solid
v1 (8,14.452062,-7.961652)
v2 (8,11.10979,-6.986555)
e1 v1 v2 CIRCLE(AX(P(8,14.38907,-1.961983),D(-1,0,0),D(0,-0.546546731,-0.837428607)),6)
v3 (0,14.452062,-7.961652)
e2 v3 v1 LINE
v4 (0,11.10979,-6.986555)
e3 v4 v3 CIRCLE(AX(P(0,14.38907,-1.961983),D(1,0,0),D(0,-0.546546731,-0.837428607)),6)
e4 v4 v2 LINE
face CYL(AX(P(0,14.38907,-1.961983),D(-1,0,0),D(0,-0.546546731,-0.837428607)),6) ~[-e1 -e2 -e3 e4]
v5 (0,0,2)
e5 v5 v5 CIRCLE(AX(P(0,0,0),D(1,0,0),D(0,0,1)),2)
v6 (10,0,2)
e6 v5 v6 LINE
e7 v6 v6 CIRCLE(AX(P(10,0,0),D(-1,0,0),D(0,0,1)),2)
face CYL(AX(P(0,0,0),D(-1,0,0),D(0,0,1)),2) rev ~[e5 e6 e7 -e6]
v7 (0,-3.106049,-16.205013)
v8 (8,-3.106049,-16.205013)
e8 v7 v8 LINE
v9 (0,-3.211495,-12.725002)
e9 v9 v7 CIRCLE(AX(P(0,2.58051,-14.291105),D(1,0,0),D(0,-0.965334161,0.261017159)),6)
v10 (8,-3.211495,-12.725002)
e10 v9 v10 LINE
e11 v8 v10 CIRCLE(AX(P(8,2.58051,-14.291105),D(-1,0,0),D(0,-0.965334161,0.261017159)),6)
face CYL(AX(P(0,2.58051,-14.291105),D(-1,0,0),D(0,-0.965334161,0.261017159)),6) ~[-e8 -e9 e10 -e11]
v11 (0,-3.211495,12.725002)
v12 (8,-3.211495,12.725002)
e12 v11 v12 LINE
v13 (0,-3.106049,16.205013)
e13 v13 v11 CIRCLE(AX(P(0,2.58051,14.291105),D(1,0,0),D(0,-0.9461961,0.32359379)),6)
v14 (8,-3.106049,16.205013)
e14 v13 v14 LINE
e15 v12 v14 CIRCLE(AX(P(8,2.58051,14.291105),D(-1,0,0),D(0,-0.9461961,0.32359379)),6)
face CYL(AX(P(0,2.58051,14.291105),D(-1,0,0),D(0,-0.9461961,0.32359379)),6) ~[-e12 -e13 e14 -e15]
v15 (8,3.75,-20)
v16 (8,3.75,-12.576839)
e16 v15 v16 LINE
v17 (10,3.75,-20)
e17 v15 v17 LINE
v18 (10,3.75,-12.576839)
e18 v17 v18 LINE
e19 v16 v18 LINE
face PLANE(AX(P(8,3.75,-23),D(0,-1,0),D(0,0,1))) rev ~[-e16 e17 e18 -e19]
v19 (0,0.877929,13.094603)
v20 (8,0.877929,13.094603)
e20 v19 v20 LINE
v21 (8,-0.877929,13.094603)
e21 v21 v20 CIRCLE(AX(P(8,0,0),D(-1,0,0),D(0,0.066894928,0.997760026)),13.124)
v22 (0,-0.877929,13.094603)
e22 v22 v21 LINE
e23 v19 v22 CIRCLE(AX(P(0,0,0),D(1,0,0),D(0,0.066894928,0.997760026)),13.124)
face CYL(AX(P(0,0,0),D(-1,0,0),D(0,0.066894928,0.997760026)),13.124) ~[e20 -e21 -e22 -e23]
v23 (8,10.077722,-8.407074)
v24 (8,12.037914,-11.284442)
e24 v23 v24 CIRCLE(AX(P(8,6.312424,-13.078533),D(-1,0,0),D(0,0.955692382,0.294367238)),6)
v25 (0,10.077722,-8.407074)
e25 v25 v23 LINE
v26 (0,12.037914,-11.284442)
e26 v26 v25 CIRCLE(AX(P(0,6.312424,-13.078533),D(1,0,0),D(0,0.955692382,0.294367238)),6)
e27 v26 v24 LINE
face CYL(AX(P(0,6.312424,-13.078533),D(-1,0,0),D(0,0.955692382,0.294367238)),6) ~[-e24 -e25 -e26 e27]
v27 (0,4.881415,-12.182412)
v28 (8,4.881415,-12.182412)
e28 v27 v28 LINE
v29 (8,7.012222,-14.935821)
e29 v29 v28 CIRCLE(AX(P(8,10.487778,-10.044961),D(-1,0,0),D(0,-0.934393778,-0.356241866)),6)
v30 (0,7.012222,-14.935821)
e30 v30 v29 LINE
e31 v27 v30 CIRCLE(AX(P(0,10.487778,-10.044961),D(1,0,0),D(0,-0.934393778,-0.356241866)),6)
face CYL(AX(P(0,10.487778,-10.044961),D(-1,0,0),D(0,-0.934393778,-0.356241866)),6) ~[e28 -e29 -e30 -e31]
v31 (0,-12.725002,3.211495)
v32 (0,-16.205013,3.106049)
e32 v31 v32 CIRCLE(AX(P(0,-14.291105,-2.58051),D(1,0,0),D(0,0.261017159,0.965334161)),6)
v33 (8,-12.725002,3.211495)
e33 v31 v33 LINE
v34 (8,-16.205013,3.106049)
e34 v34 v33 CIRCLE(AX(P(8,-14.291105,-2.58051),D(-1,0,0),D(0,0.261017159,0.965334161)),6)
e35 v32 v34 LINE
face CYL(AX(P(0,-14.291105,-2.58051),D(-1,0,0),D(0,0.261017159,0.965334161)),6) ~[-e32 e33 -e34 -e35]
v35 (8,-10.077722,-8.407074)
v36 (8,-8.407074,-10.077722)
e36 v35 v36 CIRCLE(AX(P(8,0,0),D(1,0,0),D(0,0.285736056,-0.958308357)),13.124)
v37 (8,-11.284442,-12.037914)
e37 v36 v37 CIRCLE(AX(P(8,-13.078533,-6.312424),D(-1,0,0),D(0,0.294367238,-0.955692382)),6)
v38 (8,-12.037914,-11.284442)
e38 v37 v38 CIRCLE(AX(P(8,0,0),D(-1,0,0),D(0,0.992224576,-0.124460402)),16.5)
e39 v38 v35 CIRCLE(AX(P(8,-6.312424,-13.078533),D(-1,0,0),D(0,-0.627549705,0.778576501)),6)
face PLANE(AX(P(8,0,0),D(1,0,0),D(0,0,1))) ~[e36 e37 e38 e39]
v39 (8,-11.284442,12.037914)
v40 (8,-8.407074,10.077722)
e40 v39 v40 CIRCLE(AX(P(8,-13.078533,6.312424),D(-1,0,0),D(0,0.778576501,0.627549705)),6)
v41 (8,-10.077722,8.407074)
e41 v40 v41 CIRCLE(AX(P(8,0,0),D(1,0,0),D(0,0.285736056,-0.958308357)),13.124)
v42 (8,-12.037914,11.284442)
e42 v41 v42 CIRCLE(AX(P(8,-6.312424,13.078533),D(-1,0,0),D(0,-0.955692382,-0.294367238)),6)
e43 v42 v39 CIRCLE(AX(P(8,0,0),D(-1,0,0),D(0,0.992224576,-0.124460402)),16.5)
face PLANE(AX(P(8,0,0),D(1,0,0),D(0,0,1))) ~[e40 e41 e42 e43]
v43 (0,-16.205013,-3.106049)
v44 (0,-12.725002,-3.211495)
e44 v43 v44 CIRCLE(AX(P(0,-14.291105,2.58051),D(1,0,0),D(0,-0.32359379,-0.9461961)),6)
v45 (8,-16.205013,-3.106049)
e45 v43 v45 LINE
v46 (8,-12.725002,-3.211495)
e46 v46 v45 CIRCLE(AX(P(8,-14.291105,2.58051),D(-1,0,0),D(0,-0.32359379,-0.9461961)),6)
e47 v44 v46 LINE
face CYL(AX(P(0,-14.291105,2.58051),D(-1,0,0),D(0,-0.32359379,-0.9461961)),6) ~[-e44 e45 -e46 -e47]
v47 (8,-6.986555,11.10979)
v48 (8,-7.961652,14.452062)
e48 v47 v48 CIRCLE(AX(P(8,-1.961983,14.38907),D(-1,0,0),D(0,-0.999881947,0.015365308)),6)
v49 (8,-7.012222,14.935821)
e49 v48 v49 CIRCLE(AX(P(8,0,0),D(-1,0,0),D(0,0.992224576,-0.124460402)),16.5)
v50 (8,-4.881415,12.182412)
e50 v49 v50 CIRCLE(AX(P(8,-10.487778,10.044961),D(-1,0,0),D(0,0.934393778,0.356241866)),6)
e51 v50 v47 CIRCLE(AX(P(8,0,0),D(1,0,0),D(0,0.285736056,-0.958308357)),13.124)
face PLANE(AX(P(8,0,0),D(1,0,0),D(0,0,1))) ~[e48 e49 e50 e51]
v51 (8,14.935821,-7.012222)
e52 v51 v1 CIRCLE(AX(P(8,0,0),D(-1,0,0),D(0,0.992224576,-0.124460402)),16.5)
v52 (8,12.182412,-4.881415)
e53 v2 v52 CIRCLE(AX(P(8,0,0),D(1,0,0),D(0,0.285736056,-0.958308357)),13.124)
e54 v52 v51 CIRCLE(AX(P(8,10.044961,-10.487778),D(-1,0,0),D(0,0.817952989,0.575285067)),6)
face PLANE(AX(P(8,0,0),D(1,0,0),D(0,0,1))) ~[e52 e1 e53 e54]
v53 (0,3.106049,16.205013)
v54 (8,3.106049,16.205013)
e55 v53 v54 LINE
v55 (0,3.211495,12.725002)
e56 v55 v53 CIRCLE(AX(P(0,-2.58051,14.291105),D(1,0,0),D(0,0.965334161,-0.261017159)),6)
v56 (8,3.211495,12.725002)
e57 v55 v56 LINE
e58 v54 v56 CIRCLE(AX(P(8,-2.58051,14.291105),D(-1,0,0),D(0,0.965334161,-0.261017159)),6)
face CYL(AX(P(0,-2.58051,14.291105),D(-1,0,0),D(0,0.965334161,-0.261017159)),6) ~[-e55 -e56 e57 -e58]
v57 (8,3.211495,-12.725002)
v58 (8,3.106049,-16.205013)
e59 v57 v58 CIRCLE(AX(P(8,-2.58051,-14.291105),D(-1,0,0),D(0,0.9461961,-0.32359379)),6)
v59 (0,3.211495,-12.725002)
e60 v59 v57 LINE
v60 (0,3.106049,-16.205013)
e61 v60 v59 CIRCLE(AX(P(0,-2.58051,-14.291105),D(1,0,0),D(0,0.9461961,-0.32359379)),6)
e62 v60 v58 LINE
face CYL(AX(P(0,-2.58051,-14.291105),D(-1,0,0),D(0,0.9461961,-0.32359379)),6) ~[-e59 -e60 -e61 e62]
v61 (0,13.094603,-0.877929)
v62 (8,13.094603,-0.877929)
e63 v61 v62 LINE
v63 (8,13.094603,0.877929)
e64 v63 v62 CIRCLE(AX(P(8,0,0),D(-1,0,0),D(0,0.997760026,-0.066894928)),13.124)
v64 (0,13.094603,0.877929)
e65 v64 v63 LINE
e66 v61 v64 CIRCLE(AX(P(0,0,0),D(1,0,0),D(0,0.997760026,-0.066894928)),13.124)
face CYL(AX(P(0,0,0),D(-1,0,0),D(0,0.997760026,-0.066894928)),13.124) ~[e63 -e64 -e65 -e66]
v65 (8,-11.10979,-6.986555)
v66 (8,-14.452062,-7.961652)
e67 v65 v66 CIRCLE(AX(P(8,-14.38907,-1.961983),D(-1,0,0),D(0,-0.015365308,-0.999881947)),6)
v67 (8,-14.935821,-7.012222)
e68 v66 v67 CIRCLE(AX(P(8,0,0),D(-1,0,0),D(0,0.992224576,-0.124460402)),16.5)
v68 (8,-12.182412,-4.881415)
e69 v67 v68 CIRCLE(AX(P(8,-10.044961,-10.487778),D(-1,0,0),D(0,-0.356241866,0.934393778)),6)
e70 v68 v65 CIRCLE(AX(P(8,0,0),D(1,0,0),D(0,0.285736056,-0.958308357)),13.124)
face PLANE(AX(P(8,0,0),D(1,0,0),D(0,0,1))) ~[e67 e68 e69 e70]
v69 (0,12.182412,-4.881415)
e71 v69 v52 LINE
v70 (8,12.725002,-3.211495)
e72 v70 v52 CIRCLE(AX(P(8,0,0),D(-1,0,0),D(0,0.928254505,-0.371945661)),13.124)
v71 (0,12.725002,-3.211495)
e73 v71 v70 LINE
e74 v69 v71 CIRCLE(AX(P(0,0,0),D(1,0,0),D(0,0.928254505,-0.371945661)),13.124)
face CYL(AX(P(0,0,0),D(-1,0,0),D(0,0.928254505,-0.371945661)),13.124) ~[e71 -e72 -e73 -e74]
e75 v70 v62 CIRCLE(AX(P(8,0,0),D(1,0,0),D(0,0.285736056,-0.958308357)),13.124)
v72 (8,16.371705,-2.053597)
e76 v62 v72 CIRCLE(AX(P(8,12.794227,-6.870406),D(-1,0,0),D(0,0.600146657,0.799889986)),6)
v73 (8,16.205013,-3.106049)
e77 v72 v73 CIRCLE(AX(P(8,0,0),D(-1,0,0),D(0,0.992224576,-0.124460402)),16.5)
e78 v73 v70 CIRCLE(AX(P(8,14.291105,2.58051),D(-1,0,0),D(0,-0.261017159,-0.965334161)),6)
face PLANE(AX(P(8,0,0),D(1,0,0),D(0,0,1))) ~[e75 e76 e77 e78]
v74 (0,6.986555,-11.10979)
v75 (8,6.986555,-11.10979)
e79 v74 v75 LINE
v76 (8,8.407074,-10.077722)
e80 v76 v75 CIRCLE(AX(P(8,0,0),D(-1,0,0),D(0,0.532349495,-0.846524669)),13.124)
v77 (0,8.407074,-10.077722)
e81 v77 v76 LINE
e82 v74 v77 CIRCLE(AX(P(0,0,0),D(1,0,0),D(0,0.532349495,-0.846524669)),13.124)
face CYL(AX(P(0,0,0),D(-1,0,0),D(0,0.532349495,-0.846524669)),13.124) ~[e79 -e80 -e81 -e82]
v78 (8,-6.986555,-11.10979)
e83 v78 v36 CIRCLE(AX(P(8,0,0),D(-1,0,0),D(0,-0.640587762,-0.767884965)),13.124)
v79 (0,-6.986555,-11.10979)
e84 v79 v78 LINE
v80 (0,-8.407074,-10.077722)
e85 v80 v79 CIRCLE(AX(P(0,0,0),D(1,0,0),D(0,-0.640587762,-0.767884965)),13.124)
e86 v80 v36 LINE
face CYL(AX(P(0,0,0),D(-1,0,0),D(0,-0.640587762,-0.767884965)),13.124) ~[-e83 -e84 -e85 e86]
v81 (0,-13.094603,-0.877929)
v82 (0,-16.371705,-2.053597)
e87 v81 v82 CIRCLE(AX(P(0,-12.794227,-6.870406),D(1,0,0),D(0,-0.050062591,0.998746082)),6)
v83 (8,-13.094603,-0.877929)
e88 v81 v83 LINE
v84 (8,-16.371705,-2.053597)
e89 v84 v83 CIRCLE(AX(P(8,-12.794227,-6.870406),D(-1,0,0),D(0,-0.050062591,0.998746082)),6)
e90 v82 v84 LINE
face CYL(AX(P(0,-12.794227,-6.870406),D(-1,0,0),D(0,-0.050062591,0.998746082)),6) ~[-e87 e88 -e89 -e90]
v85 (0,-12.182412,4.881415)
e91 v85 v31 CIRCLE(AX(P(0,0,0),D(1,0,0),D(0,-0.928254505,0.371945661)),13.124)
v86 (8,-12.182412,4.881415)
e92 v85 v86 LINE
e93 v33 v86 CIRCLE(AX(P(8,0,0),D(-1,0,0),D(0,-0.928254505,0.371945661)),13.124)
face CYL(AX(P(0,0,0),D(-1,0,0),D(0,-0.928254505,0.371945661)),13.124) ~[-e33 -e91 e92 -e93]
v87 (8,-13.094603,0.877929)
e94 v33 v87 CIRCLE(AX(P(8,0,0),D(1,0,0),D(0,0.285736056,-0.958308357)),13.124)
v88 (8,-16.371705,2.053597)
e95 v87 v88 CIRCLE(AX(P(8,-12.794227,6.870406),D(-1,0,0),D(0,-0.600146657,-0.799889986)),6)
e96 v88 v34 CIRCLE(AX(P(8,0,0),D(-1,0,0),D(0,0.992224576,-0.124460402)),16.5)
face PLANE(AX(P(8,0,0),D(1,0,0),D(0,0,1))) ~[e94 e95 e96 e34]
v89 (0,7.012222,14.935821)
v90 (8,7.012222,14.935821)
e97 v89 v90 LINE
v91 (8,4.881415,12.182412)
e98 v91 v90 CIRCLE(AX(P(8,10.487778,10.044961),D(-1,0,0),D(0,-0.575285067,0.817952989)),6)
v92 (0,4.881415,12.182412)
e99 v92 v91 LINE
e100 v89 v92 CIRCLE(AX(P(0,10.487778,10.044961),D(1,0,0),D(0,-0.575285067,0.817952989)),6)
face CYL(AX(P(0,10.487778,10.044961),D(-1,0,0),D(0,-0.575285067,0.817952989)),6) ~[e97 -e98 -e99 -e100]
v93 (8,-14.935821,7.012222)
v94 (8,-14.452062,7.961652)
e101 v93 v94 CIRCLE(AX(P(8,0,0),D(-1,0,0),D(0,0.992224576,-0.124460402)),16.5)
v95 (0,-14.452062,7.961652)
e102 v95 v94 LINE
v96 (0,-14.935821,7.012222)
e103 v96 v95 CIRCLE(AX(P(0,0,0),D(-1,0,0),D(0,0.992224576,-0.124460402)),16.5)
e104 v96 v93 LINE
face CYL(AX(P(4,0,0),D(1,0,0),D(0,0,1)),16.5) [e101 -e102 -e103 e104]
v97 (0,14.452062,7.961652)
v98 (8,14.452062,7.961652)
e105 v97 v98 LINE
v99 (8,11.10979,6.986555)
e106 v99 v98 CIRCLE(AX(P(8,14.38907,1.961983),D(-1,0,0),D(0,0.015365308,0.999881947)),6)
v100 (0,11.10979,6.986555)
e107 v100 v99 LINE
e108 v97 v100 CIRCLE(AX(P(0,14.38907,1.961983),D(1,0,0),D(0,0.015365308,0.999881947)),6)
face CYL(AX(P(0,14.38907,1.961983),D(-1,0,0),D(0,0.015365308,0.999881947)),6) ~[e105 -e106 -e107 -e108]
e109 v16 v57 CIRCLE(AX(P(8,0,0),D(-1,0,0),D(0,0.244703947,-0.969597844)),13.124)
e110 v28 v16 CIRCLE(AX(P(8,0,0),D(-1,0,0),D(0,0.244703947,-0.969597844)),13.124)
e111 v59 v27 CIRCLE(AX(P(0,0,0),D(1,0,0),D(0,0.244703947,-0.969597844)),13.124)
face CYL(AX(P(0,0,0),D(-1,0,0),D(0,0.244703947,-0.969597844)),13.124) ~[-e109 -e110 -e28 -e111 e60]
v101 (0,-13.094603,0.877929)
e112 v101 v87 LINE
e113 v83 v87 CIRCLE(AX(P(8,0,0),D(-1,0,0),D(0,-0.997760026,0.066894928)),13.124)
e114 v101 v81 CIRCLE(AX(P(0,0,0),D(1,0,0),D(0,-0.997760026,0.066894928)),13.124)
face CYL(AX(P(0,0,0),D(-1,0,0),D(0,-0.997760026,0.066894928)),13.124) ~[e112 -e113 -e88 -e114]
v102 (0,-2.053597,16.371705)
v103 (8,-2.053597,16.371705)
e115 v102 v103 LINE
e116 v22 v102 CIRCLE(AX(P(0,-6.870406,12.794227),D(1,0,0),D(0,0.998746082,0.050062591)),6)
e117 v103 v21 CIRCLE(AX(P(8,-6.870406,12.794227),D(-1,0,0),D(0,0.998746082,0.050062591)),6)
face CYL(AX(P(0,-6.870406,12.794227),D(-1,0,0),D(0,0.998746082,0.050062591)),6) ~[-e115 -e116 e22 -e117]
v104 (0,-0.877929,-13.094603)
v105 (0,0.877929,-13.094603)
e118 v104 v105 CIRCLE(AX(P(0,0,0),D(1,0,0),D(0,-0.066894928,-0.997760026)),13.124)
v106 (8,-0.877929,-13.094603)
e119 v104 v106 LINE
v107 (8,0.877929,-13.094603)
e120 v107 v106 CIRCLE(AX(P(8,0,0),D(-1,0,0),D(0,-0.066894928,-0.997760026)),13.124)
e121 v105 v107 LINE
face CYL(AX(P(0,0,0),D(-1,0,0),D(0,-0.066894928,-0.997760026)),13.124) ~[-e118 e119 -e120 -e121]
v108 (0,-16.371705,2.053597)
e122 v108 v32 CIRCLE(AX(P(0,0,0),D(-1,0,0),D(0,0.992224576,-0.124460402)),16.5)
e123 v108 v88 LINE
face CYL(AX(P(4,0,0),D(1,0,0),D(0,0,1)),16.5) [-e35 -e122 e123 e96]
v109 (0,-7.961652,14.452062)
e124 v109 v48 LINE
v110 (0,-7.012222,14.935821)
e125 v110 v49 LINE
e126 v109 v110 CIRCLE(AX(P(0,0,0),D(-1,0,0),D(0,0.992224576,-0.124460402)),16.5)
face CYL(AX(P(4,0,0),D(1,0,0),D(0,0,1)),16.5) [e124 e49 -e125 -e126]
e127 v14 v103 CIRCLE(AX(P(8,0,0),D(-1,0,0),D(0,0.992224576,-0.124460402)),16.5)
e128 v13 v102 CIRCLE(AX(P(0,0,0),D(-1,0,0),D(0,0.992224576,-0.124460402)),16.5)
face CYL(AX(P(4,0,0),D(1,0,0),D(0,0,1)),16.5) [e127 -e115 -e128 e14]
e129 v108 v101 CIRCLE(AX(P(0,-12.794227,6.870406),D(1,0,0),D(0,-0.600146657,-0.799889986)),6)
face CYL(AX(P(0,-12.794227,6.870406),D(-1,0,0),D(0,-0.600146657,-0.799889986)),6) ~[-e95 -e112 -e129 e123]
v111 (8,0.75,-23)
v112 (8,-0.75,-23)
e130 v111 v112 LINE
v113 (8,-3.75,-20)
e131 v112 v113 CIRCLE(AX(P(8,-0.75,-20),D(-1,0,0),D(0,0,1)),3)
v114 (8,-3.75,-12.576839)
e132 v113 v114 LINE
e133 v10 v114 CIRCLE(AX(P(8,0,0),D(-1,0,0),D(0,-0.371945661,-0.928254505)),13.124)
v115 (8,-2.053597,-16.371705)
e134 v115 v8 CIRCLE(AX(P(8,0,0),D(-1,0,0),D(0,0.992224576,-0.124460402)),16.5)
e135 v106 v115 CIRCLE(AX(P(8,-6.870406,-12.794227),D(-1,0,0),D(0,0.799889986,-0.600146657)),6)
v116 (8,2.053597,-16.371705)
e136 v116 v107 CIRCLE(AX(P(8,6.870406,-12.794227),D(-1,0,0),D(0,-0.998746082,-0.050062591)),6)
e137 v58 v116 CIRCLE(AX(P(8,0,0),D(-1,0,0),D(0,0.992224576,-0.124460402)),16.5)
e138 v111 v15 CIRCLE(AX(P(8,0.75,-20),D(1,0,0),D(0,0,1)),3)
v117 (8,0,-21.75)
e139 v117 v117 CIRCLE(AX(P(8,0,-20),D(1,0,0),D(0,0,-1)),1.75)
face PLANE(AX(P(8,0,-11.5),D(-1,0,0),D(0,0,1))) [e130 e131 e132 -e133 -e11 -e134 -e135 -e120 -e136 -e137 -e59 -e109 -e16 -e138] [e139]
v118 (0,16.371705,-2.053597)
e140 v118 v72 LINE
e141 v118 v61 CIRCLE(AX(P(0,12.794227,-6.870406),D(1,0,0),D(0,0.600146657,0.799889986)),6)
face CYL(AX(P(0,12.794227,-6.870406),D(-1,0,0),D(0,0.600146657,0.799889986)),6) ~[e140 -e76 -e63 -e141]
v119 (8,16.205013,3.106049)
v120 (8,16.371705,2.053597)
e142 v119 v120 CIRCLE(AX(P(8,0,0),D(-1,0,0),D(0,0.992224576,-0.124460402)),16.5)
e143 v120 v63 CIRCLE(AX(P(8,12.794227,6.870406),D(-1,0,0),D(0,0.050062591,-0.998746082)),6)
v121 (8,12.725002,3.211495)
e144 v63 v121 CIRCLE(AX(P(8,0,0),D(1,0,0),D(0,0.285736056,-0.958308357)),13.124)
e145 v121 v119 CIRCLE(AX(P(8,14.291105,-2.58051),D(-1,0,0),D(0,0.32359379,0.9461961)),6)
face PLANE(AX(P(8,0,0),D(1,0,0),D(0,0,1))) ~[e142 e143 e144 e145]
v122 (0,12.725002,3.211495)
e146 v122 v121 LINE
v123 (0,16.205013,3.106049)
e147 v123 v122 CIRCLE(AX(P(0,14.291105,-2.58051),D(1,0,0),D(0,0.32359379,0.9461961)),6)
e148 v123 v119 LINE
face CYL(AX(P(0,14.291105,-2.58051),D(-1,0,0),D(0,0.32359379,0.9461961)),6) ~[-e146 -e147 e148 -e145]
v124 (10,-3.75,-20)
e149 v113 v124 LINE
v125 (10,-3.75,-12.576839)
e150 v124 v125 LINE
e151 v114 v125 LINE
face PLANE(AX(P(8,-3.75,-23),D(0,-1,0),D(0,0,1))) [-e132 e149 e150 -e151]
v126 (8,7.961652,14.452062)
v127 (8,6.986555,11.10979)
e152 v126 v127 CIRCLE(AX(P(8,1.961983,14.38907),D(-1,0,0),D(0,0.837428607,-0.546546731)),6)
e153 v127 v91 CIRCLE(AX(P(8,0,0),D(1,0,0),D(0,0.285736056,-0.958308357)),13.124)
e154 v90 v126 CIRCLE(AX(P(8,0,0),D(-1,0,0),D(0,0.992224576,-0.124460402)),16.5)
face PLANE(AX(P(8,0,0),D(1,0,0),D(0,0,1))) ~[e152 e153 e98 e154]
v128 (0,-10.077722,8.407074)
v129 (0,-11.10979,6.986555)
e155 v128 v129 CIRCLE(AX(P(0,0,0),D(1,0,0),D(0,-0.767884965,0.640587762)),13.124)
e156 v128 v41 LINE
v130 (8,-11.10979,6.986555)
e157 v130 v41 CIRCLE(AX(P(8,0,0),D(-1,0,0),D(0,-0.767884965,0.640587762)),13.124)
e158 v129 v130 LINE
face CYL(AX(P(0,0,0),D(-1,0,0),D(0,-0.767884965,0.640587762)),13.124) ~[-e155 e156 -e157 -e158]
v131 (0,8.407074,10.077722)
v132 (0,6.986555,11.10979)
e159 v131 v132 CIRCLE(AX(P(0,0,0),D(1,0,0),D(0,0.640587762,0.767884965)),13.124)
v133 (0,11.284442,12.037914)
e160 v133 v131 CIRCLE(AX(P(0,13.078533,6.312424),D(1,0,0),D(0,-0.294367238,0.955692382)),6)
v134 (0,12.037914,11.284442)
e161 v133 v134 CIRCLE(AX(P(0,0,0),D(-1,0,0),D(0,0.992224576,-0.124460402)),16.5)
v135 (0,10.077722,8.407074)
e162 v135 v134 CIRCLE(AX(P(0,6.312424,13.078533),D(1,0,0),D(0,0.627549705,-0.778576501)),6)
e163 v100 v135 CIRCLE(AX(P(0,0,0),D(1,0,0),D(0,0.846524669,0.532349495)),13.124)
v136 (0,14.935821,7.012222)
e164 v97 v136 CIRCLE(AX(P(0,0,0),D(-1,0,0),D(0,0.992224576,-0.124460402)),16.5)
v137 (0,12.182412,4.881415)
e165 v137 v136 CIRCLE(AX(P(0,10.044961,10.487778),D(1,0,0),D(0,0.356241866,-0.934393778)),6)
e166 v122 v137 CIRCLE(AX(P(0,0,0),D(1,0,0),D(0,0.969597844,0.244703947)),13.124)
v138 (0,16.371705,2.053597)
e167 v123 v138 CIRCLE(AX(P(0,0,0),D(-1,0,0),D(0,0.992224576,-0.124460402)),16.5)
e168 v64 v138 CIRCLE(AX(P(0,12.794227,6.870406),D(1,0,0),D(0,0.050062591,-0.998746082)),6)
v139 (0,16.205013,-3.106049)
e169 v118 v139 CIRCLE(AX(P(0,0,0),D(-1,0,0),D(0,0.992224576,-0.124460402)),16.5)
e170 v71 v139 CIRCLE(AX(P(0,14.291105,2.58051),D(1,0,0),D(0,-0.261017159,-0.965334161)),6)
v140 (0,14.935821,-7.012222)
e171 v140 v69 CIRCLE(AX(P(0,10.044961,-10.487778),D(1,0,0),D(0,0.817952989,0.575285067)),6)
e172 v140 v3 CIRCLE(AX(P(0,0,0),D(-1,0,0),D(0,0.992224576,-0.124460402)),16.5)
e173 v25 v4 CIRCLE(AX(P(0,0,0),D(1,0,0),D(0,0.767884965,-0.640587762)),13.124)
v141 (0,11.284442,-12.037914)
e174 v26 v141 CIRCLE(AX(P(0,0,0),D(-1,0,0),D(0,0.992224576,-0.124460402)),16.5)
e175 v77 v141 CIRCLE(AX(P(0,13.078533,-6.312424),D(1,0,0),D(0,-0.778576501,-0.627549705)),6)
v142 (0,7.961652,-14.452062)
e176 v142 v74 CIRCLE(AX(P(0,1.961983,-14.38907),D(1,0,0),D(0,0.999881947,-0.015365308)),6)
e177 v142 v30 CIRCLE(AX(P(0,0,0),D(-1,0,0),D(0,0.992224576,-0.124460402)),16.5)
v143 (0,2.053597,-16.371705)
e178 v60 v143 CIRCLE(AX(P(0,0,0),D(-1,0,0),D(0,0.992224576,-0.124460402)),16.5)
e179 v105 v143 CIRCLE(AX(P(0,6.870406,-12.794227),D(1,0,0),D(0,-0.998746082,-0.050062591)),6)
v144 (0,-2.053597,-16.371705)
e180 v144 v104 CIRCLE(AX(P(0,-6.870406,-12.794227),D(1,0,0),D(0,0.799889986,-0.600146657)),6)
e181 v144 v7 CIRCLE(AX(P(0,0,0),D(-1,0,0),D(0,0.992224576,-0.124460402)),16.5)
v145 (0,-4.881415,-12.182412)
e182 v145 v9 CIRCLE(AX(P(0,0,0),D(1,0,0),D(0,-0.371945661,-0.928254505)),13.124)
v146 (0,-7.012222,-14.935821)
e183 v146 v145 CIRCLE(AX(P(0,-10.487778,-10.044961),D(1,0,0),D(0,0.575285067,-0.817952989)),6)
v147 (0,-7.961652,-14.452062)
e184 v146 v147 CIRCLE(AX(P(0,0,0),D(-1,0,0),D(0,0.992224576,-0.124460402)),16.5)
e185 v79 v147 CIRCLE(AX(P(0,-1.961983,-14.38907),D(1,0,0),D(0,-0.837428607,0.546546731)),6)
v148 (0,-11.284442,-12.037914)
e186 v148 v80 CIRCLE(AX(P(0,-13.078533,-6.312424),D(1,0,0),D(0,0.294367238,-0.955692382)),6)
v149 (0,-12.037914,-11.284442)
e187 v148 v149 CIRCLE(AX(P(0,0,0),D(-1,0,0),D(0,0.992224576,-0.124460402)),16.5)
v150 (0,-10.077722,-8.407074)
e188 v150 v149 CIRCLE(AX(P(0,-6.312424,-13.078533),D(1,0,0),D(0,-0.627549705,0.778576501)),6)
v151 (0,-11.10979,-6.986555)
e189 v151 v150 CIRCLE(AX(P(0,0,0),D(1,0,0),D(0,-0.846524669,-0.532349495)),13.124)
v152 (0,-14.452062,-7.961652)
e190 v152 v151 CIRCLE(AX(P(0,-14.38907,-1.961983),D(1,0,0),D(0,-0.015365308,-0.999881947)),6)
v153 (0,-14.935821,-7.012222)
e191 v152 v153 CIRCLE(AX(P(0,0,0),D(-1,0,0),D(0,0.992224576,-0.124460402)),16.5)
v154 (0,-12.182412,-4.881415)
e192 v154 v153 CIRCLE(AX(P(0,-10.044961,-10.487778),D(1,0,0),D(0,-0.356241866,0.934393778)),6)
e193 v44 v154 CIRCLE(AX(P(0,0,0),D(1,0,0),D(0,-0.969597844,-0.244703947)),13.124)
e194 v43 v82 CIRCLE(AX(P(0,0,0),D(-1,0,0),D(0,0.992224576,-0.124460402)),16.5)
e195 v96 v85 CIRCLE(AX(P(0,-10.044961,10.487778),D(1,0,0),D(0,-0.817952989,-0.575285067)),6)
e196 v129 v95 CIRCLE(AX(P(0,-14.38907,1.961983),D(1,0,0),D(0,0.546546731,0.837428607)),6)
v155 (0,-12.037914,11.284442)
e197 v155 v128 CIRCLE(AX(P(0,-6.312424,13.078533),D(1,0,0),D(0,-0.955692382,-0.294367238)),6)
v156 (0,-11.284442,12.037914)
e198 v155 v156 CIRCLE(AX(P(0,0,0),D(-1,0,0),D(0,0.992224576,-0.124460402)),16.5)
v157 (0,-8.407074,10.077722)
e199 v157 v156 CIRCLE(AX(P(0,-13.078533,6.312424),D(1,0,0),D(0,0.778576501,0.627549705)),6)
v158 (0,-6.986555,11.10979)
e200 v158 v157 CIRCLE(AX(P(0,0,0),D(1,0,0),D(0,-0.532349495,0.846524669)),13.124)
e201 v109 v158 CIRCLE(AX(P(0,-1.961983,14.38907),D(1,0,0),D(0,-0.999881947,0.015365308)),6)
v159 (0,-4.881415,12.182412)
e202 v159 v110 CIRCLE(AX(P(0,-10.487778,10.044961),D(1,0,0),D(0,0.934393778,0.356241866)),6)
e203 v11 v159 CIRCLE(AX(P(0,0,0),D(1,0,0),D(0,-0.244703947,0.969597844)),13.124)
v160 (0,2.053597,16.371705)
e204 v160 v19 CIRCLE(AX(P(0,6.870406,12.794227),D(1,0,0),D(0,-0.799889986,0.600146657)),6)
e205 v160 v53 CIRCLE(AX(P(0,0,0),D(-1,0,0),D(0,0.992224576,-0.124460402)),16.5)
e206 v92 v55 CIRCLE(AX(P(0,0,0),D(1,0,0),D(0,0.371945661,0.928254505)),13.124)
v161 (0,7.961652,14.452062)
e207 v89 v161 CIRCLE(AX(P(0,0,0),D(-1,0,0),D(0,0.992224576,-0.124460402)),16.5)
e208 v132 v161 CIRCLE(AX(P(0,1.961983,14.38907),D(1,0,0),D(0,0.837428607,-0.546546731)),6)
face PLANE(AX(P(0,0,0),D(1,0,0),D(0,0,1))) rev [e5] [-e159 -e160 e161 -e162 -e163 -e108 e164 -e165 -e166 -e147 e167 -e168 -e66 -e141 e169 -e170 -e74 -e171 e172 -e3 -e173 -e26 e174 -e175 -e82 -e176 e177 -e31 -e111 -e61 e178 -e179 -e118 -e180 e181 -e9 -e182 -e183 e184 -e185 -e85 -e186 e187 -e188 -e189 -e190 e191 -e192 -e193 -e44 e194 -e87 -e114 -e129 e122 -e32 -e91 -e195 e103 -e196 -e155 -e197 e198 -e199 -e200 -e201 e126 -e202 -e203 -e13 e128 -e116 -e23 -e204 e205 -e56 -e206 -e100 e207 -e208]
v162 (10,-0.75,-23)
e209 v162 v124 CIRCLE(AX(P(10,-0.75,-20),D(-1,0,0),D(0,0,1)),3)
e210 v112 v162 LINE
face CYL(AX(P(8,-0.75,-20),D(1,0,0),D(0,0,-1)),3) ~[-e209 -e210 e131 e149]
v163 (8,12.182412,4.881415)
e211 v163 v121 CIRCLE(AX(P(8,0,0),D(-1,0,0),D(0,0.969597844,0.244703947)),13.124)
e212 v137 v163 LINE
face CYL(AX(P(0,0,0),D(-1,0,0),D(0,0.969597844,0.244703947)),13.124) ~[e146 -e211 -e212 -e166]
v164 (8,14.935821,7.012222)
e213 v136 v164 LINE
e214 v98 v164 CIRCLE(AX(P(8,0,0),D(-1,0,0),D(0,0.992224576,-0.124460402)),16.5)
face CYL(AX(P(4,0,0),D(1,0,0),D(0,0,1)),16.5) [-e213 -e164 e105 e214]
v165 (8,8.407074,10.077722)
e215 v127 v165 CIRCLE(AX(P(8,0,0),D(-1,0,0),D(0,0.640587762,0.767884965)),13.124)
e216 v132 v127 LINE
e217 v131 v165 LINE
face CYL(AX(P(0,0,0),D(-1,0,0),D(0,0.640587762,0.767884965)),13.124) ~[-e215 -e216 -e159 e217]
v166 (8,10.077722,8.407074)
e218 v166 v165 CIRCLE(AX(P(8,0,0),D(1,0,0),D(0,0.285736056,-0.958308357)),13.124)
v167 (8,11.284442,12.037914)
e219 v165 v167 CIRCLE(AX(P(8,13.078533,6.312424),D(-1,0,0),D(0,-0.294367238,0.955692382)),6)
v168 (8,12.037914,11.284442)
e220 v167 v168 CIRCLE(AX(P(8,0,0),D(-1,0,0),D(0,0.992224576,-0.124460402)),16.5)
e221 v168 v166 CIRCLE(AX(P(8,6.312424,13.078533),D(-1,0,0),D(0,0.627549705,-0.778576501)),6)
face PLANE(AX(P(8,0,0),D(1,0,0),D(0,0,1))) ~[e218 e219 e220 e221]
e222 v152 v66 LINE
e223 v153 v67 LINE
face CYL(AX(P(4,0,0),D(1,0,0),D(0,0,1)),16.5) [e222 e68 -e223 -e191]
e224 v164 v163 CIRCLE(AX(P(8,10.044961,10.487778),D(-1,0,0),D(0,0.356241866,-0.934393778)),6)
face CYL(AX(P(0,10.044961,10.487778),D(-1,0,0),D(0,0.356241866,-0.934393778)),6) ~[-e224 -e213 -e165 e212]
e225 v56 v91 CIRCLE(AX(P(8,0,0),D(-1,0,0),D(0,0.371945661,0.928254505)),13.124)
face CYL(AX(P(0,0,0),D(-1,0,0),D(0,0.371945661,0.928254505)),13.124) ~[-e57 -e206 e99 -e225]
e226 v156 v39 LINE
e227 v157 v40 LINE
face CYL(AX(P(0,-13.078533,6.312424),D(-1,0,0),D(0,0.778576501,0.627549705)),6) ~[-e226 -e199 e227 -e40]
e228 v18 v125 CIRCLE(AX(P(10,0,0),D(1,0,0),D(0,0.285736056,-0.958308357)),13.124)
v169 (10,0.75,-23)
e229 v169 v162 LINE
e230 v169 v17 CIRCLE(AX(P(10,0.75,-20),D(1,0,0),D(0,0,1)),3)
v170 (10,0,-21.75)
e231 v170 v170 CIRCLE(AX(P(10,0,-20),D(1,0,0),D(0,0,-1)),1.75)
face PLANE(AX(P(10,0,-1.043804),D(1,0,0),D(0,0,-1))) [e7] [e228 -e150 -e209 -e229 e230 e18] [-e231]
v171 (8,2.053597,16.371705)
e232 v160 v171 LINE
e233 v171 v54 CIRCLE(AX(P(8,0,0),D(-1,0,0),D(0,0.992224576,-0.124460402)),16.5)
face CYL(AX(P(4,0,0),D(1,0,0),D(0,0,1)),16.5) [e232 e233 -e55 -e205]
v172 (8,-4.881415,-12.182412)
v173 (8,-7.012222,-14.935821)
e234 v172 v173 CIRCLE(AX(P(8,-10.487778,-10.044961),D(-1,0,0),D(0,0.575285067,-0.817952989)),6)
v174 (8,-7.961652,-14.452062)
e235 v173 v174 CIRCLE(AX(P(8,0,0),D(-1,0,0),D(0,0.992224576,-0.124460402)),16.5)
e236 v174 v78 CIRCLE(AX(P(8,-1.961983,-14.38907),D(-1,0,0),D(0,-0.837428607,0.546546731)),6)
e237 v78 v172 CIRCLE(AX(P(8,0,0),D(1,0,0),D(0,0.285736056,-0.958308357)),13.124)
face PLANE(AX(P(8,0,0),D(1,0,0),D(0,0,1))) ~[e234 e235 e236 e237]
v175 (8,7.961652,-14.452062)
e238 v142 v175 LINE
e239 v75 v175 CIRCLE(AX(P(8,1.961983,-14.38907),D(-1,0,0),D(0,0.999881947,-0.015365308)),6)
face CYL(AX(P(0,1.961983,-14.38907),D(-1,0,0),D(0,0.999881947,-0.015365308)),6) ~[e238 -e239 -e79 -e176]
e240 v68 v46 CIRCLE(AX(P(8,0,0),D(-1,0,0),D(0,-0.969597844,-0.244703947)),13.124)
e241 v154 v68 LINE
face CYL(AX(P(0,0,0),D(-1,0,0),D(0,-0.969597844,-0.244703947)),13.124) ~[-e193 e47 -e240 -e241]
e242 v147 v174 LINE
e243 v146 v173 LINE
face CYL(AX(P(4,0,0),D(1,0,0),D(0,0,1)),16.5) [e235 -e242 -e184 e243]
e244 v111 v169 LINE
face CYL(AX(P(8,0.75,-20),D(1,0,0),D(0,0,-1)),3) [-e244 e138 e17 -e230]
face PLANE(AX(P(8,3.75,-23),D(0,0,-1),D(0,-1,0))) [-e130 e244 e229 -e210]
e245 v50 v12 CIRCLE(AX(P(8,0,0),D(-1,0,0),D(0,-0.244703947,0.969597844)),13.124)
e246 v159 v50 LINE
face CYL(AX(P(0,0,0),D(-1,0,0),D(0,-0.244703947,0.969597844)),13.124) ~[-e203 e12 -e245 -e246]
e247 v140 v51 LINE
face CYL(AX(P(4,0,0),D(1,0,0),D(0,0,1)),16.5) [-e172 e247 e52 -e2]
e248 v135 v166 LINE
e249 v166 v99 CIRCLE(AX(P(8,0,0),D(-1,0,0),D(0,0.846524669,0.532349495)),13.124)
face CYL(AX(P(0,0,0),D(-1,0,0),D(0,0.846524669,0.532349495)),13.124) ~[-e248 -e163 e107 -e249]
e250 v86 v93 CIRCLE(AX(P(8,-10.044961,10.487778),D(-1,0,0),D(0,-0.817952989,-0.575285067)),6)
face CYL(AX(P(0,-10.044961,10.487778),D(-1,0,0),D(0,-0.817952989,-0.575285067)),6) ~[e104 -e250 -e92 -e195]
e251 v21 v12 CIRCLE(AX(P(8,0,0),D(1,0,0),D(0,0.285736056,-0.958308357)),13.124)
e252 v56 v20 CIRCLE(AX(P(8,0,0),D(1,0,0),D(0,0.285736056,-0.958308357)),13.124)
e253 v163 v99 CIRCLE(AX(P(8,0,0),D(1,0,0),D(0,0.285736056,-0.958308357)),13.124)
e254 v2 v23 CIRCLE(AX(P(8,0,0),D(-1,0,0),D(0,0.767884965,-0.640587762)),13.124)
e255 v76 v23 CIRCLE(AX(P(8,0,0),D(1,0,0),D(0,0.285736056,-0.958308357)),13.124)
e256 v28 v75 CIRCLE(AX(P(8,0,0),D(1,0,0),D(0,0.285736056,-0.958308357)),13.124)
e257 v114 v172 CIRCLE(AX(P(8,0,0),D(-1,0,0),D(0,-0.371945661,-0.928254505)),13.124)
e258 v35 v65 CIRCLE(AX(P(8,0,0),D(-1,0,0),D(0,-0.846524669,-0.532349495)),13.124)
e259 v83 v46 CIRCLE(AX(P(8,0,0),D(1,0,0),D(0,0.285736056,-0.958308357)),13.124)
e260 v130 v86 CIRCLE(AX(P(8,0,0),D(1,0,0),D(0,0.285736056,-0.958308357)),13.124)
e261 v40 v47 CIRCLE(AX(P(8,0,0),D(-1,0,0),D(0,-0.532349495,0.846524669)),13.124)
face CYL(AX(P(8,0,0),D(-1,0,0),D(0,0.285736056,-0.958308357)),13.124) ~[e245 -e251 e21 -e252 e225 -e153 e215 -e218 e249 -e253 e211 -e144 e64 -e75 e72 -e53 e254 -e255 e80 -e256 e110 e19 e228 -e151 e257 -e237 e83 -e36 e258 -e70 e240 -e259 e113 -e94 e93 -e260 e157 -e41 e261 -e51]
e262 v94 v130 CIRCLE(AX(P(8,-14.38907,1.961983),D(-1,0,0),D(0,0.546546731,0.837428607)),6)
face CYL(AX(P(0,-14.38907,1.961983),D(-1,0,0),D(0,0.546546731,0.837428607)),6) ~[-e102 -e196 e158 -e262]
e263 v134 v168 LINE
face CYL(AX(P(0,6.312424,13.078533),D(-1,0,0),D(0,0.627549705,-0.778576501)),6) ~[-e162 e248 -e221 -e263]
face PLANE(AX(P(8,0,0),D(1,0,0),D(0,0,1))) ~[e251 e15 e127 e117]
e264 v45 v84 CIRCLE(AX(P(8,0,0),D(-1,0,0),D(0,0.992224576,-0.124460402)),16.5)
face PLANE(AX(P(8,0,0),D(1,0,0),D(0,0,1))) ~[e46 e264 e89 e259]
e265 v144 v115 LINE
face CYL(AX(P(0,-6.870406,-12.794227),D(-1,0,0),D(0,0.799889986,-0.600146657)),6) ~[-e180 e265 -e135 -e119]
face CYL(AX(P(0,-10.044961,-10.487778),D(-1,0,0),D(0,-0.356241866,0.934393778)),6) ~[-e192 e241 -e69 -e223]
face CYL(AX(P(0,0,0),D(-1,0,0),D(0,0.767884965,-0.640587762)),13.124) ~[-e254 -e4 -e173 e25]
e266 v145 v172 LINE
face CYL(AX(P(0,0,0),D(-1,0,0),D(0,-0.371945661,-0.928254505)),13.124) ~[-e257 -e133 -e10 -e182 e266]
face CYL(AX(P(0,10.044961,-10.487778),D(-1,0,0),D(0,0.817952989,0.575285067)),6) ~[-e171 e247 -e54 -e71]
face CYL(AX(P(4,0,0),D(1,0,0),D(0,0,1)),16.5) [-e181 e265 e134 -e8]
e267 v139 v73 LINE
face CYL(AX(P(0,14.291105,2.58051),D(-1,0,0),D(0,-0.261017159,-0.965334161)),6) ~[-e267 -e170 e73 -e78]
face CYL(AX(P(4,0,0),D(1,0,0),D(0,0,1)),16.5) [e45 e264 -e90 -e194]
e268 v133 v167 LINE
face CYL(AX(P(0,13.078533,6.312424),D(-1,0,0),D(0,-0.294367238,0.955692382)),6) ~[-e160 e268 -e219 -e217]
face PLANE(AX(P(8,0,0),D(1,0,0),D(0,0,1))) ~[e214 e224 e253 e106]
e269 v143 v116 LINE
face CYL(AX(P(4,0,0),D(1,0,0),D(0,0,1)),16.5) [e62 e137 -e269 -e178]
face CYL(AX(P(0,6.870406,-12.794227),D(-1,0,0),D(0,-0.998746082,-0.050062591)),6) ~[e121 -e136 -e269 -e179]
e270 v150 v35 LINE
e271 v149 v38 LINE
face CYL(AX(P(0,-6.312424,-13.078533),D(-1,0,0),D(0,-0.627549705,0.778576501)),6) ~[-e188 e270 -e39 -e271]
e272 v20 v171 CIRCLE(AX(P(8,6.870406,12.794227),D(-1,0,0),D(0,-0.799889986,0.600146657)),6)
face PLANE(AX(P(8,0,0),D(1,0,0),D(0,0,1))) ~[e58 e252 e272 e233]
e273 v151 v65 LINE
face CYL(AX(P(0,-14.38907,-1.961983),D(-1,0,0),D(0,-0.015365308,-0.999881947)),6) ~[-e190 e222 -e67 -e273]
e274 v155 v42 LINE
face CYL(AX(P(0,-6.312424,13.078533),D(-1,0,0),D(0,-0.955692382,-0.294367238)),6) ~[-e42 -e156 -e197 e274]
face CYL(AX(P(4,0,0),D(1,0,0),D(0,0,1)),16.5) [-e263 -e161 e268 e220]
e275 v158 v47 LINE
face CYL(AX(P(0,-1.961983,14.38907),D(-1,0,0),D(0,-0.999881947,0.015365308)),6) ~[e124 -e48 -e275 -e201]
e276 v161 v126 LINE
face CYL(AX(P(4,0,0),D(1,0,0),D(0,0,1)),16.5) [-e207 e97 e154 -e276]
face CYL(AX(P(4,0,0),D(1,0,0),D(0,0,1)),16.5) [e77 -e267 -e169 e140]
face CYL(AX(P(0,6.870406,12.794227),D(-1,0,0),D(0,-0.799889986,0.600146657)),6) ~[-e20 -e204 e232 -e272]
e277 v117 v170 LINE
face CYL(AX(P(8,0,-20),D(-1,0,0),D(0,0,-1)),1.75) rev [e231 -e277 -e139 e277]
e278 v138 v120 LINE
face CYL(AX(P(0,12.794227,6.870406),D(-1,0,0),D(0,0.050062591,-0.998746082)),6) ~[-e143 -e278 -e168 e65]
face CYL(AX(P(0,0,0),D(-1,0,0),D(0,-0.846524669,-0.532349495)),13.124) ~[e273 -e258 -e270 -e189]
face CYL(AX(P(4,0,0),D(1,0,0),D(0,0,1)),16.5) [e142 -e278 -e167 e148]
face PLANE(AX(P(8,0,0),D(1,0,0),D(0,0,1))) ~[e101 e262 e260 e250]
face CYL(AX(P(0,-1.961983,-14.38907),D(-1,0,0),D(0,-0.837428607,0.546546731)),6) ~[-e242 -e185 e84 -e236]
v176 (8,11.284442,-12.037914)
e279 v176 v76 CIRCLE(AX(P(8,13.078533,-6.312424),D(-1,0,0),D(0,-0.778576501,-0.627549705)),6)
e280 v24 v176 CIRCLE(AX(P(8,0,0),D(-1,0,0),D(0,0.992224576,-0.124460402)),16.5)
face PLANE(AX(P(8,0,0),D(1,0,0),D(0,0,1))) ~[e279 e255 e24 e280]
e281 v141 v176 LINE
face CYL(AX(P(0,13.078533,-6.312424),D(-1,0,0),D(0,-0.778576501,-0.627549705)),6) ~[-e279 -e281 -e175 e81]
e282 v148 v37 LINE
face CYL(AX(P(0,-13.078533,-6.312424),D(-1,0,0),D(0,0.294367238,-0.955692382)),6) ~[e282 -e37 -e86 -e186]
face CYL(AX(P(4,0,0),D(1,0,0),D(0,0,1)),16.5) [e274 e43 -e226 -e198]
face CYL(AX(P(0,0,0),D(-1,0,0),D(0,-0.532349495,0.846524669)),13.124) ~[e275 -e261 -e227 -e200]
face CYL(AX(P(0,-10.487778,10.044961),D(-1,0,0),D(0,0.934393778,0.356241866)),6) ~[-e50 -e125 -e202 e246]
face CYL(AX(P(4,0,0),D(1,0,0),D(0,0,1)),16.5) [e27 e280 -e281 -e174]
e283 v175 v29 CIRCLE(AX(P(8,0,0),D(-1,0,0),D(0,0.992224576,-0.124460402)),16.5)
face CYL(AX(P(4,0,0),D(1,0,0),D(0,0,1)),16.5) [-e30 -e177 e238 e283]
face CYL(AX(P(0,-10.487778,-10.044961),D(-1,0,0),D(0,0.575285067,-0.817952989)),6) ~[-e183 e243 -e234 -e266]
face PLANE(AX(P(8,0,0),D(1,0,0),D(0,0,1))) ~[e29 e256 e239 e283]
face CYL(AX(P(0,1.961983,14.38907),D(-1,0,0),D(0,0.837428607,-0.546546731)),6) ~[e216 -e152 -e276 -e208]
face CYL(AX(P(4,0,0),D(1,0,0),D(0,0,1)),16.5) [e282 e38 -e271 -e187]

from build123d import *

# Parameters (mm, degrees)
BASPROSKE_W         = 8
BASPROSKE_H         = 16.5
TOOTHCUT_DEPTH      = 25.667792767
TEETHCUTS_COUNT     = 20
TEETHCUTS_ANGLE     = 342
BORSKE_R            = 2
BORE_DEPTH          = 50.0000508
SKETCH1_R           = 1.75
BOSS_EXTRUDE1_DEPTH = 2
BOSS_EXTRUDE2_DEPTH = 2
SKETCH3_R           = 2
CUT_EXTRUDE1_DEPTH  = 15
FILLET1_R           = 3


with BuildPart() as part:
    # BasProSke → Base-Revolve (revolve)
    with BuildSketch(Plane(origin=(0, 0, 0), x_dir=(1, 0, 0), z_dir=(0, 1, 0)), mode=Mode.PRIVATE) as base_revolve_sk:
        with Locations((4, 8.25)):
            Rectangle(BASPROSKE_W, BASPROSKE_H)
    revolve(base_revolve_sk.sketch.rotate(Axis((-10, 0, 0), (1, 0, 0)), 180), axis=Axis((-10, 0, 0), (1, 0, 0)))

    # TooCutSke → ToothCut (cut, through all)
    with BuildSketch(Plane(origin=(0, 0, 0), x_dir=(0, 0, -1), z_dir=(1, 0, 0))):
        with BuildLine():
            ThreePointArc((0.877929023, 13.094602576), (0, 13.124), (-0.877929023, 13.094602576))
            ThreePointArc((-0.877929023, 13.094602576), (-1.227785764, 14.834041313), (-2.071065599, 16.395106966))
            ThreePointArc((-2.071065599, 16.395106966), (0, 16.5254), (2.071065599, 16.395106966))
            ThreePointArc((2.071065599, 16.395106966), (1.227785764, 14.834041313), (0.877929023, 13.094602576))
        make_face()
    toothcut = extrude(amount=TOOTHCUT_DEPTH, mode=Mode.SUBTRACT)

    # TeethCuts: ToothCut ×20 about axis
    teethcuts_axis = Axis((-10, 0, 0), (1, 0, 0))
    for i in range(1, TEETHCUTS_COUNT):
        add(toothcut.rotate(teethcuts_axis, i * TEETHCUTS_ANGLE / (TEETHCUTS_COUNT - 1)), mode=Mode.SUBTRACT)

    # BorSke → Bore (cut, symmetric)
    with BuildSketch(Plane(origin=(0, 0, 0), x_dir=(0, 0, -1), z_dir=(1, 0, 0))):
        with Locations(Location((0, 0, 0), (0, 0, 180))):
            Circle(BORSKE_R)
    extrude(amount=BORE_DEPTH, both=True, mode=Mode.SUBTRACT)

    # Sketch1 → Boss-Extrude1 (add)
    with BuildSketch(Plane(origin=(8, 0, 0), x_dir=(0, 0, -1), z_dir=(1, 0, 0))):
        Polygon((0, 0), (0, 3.75), (20, 3.75), (23, 3.75), (23, -3.75), (0, -3.75), align=None)
        with Locations((20, 0)):
            Circle(SKETCH1_R, mode=Mode.SUBTRACT)
    extrude(amount=BOSS_EXTRUDE1_DEPTH)

    # Sketch2 → Boss-Extrude2 (add)
    with BuildSketch(Plane(origin=(8, 0, 0), x_dir=(0, 0, -1), z_dir=(1, 0, 0))):
        with BuildLine():
            Line((0, 3.75), (12.576838872, 3.75))
            ThreePointArc((12.576838872, 3.75), (-13.124, 0), (12.576838872, -3.75))
            Line((12.576838872, -3.75), (0, -3.75))
            Line((0, -3.75), (0, 3.75))
        make_face()
    extrude(amount=BOSS_EXTRUDE2_DEPTH)

    # Sketch3 → Cut-Extrude1 (cut)
    with BuildSketch(Plane.ZY):
        Circle(SKETCH3_R)
    extrude(amount=-CUT_EXTRUDE1_DEPTH, mode=Mode.SUBTRACT)

    # Fillet1
    fillet1_edges = [part.edges().sort_by_distance(p)[0] for p in [
        (9, -3.75, -23),
        (9, 3.75, -23),
    ]]
    fillet(fillet1_edges, radius=FILLET1_R)


solid = part.part
